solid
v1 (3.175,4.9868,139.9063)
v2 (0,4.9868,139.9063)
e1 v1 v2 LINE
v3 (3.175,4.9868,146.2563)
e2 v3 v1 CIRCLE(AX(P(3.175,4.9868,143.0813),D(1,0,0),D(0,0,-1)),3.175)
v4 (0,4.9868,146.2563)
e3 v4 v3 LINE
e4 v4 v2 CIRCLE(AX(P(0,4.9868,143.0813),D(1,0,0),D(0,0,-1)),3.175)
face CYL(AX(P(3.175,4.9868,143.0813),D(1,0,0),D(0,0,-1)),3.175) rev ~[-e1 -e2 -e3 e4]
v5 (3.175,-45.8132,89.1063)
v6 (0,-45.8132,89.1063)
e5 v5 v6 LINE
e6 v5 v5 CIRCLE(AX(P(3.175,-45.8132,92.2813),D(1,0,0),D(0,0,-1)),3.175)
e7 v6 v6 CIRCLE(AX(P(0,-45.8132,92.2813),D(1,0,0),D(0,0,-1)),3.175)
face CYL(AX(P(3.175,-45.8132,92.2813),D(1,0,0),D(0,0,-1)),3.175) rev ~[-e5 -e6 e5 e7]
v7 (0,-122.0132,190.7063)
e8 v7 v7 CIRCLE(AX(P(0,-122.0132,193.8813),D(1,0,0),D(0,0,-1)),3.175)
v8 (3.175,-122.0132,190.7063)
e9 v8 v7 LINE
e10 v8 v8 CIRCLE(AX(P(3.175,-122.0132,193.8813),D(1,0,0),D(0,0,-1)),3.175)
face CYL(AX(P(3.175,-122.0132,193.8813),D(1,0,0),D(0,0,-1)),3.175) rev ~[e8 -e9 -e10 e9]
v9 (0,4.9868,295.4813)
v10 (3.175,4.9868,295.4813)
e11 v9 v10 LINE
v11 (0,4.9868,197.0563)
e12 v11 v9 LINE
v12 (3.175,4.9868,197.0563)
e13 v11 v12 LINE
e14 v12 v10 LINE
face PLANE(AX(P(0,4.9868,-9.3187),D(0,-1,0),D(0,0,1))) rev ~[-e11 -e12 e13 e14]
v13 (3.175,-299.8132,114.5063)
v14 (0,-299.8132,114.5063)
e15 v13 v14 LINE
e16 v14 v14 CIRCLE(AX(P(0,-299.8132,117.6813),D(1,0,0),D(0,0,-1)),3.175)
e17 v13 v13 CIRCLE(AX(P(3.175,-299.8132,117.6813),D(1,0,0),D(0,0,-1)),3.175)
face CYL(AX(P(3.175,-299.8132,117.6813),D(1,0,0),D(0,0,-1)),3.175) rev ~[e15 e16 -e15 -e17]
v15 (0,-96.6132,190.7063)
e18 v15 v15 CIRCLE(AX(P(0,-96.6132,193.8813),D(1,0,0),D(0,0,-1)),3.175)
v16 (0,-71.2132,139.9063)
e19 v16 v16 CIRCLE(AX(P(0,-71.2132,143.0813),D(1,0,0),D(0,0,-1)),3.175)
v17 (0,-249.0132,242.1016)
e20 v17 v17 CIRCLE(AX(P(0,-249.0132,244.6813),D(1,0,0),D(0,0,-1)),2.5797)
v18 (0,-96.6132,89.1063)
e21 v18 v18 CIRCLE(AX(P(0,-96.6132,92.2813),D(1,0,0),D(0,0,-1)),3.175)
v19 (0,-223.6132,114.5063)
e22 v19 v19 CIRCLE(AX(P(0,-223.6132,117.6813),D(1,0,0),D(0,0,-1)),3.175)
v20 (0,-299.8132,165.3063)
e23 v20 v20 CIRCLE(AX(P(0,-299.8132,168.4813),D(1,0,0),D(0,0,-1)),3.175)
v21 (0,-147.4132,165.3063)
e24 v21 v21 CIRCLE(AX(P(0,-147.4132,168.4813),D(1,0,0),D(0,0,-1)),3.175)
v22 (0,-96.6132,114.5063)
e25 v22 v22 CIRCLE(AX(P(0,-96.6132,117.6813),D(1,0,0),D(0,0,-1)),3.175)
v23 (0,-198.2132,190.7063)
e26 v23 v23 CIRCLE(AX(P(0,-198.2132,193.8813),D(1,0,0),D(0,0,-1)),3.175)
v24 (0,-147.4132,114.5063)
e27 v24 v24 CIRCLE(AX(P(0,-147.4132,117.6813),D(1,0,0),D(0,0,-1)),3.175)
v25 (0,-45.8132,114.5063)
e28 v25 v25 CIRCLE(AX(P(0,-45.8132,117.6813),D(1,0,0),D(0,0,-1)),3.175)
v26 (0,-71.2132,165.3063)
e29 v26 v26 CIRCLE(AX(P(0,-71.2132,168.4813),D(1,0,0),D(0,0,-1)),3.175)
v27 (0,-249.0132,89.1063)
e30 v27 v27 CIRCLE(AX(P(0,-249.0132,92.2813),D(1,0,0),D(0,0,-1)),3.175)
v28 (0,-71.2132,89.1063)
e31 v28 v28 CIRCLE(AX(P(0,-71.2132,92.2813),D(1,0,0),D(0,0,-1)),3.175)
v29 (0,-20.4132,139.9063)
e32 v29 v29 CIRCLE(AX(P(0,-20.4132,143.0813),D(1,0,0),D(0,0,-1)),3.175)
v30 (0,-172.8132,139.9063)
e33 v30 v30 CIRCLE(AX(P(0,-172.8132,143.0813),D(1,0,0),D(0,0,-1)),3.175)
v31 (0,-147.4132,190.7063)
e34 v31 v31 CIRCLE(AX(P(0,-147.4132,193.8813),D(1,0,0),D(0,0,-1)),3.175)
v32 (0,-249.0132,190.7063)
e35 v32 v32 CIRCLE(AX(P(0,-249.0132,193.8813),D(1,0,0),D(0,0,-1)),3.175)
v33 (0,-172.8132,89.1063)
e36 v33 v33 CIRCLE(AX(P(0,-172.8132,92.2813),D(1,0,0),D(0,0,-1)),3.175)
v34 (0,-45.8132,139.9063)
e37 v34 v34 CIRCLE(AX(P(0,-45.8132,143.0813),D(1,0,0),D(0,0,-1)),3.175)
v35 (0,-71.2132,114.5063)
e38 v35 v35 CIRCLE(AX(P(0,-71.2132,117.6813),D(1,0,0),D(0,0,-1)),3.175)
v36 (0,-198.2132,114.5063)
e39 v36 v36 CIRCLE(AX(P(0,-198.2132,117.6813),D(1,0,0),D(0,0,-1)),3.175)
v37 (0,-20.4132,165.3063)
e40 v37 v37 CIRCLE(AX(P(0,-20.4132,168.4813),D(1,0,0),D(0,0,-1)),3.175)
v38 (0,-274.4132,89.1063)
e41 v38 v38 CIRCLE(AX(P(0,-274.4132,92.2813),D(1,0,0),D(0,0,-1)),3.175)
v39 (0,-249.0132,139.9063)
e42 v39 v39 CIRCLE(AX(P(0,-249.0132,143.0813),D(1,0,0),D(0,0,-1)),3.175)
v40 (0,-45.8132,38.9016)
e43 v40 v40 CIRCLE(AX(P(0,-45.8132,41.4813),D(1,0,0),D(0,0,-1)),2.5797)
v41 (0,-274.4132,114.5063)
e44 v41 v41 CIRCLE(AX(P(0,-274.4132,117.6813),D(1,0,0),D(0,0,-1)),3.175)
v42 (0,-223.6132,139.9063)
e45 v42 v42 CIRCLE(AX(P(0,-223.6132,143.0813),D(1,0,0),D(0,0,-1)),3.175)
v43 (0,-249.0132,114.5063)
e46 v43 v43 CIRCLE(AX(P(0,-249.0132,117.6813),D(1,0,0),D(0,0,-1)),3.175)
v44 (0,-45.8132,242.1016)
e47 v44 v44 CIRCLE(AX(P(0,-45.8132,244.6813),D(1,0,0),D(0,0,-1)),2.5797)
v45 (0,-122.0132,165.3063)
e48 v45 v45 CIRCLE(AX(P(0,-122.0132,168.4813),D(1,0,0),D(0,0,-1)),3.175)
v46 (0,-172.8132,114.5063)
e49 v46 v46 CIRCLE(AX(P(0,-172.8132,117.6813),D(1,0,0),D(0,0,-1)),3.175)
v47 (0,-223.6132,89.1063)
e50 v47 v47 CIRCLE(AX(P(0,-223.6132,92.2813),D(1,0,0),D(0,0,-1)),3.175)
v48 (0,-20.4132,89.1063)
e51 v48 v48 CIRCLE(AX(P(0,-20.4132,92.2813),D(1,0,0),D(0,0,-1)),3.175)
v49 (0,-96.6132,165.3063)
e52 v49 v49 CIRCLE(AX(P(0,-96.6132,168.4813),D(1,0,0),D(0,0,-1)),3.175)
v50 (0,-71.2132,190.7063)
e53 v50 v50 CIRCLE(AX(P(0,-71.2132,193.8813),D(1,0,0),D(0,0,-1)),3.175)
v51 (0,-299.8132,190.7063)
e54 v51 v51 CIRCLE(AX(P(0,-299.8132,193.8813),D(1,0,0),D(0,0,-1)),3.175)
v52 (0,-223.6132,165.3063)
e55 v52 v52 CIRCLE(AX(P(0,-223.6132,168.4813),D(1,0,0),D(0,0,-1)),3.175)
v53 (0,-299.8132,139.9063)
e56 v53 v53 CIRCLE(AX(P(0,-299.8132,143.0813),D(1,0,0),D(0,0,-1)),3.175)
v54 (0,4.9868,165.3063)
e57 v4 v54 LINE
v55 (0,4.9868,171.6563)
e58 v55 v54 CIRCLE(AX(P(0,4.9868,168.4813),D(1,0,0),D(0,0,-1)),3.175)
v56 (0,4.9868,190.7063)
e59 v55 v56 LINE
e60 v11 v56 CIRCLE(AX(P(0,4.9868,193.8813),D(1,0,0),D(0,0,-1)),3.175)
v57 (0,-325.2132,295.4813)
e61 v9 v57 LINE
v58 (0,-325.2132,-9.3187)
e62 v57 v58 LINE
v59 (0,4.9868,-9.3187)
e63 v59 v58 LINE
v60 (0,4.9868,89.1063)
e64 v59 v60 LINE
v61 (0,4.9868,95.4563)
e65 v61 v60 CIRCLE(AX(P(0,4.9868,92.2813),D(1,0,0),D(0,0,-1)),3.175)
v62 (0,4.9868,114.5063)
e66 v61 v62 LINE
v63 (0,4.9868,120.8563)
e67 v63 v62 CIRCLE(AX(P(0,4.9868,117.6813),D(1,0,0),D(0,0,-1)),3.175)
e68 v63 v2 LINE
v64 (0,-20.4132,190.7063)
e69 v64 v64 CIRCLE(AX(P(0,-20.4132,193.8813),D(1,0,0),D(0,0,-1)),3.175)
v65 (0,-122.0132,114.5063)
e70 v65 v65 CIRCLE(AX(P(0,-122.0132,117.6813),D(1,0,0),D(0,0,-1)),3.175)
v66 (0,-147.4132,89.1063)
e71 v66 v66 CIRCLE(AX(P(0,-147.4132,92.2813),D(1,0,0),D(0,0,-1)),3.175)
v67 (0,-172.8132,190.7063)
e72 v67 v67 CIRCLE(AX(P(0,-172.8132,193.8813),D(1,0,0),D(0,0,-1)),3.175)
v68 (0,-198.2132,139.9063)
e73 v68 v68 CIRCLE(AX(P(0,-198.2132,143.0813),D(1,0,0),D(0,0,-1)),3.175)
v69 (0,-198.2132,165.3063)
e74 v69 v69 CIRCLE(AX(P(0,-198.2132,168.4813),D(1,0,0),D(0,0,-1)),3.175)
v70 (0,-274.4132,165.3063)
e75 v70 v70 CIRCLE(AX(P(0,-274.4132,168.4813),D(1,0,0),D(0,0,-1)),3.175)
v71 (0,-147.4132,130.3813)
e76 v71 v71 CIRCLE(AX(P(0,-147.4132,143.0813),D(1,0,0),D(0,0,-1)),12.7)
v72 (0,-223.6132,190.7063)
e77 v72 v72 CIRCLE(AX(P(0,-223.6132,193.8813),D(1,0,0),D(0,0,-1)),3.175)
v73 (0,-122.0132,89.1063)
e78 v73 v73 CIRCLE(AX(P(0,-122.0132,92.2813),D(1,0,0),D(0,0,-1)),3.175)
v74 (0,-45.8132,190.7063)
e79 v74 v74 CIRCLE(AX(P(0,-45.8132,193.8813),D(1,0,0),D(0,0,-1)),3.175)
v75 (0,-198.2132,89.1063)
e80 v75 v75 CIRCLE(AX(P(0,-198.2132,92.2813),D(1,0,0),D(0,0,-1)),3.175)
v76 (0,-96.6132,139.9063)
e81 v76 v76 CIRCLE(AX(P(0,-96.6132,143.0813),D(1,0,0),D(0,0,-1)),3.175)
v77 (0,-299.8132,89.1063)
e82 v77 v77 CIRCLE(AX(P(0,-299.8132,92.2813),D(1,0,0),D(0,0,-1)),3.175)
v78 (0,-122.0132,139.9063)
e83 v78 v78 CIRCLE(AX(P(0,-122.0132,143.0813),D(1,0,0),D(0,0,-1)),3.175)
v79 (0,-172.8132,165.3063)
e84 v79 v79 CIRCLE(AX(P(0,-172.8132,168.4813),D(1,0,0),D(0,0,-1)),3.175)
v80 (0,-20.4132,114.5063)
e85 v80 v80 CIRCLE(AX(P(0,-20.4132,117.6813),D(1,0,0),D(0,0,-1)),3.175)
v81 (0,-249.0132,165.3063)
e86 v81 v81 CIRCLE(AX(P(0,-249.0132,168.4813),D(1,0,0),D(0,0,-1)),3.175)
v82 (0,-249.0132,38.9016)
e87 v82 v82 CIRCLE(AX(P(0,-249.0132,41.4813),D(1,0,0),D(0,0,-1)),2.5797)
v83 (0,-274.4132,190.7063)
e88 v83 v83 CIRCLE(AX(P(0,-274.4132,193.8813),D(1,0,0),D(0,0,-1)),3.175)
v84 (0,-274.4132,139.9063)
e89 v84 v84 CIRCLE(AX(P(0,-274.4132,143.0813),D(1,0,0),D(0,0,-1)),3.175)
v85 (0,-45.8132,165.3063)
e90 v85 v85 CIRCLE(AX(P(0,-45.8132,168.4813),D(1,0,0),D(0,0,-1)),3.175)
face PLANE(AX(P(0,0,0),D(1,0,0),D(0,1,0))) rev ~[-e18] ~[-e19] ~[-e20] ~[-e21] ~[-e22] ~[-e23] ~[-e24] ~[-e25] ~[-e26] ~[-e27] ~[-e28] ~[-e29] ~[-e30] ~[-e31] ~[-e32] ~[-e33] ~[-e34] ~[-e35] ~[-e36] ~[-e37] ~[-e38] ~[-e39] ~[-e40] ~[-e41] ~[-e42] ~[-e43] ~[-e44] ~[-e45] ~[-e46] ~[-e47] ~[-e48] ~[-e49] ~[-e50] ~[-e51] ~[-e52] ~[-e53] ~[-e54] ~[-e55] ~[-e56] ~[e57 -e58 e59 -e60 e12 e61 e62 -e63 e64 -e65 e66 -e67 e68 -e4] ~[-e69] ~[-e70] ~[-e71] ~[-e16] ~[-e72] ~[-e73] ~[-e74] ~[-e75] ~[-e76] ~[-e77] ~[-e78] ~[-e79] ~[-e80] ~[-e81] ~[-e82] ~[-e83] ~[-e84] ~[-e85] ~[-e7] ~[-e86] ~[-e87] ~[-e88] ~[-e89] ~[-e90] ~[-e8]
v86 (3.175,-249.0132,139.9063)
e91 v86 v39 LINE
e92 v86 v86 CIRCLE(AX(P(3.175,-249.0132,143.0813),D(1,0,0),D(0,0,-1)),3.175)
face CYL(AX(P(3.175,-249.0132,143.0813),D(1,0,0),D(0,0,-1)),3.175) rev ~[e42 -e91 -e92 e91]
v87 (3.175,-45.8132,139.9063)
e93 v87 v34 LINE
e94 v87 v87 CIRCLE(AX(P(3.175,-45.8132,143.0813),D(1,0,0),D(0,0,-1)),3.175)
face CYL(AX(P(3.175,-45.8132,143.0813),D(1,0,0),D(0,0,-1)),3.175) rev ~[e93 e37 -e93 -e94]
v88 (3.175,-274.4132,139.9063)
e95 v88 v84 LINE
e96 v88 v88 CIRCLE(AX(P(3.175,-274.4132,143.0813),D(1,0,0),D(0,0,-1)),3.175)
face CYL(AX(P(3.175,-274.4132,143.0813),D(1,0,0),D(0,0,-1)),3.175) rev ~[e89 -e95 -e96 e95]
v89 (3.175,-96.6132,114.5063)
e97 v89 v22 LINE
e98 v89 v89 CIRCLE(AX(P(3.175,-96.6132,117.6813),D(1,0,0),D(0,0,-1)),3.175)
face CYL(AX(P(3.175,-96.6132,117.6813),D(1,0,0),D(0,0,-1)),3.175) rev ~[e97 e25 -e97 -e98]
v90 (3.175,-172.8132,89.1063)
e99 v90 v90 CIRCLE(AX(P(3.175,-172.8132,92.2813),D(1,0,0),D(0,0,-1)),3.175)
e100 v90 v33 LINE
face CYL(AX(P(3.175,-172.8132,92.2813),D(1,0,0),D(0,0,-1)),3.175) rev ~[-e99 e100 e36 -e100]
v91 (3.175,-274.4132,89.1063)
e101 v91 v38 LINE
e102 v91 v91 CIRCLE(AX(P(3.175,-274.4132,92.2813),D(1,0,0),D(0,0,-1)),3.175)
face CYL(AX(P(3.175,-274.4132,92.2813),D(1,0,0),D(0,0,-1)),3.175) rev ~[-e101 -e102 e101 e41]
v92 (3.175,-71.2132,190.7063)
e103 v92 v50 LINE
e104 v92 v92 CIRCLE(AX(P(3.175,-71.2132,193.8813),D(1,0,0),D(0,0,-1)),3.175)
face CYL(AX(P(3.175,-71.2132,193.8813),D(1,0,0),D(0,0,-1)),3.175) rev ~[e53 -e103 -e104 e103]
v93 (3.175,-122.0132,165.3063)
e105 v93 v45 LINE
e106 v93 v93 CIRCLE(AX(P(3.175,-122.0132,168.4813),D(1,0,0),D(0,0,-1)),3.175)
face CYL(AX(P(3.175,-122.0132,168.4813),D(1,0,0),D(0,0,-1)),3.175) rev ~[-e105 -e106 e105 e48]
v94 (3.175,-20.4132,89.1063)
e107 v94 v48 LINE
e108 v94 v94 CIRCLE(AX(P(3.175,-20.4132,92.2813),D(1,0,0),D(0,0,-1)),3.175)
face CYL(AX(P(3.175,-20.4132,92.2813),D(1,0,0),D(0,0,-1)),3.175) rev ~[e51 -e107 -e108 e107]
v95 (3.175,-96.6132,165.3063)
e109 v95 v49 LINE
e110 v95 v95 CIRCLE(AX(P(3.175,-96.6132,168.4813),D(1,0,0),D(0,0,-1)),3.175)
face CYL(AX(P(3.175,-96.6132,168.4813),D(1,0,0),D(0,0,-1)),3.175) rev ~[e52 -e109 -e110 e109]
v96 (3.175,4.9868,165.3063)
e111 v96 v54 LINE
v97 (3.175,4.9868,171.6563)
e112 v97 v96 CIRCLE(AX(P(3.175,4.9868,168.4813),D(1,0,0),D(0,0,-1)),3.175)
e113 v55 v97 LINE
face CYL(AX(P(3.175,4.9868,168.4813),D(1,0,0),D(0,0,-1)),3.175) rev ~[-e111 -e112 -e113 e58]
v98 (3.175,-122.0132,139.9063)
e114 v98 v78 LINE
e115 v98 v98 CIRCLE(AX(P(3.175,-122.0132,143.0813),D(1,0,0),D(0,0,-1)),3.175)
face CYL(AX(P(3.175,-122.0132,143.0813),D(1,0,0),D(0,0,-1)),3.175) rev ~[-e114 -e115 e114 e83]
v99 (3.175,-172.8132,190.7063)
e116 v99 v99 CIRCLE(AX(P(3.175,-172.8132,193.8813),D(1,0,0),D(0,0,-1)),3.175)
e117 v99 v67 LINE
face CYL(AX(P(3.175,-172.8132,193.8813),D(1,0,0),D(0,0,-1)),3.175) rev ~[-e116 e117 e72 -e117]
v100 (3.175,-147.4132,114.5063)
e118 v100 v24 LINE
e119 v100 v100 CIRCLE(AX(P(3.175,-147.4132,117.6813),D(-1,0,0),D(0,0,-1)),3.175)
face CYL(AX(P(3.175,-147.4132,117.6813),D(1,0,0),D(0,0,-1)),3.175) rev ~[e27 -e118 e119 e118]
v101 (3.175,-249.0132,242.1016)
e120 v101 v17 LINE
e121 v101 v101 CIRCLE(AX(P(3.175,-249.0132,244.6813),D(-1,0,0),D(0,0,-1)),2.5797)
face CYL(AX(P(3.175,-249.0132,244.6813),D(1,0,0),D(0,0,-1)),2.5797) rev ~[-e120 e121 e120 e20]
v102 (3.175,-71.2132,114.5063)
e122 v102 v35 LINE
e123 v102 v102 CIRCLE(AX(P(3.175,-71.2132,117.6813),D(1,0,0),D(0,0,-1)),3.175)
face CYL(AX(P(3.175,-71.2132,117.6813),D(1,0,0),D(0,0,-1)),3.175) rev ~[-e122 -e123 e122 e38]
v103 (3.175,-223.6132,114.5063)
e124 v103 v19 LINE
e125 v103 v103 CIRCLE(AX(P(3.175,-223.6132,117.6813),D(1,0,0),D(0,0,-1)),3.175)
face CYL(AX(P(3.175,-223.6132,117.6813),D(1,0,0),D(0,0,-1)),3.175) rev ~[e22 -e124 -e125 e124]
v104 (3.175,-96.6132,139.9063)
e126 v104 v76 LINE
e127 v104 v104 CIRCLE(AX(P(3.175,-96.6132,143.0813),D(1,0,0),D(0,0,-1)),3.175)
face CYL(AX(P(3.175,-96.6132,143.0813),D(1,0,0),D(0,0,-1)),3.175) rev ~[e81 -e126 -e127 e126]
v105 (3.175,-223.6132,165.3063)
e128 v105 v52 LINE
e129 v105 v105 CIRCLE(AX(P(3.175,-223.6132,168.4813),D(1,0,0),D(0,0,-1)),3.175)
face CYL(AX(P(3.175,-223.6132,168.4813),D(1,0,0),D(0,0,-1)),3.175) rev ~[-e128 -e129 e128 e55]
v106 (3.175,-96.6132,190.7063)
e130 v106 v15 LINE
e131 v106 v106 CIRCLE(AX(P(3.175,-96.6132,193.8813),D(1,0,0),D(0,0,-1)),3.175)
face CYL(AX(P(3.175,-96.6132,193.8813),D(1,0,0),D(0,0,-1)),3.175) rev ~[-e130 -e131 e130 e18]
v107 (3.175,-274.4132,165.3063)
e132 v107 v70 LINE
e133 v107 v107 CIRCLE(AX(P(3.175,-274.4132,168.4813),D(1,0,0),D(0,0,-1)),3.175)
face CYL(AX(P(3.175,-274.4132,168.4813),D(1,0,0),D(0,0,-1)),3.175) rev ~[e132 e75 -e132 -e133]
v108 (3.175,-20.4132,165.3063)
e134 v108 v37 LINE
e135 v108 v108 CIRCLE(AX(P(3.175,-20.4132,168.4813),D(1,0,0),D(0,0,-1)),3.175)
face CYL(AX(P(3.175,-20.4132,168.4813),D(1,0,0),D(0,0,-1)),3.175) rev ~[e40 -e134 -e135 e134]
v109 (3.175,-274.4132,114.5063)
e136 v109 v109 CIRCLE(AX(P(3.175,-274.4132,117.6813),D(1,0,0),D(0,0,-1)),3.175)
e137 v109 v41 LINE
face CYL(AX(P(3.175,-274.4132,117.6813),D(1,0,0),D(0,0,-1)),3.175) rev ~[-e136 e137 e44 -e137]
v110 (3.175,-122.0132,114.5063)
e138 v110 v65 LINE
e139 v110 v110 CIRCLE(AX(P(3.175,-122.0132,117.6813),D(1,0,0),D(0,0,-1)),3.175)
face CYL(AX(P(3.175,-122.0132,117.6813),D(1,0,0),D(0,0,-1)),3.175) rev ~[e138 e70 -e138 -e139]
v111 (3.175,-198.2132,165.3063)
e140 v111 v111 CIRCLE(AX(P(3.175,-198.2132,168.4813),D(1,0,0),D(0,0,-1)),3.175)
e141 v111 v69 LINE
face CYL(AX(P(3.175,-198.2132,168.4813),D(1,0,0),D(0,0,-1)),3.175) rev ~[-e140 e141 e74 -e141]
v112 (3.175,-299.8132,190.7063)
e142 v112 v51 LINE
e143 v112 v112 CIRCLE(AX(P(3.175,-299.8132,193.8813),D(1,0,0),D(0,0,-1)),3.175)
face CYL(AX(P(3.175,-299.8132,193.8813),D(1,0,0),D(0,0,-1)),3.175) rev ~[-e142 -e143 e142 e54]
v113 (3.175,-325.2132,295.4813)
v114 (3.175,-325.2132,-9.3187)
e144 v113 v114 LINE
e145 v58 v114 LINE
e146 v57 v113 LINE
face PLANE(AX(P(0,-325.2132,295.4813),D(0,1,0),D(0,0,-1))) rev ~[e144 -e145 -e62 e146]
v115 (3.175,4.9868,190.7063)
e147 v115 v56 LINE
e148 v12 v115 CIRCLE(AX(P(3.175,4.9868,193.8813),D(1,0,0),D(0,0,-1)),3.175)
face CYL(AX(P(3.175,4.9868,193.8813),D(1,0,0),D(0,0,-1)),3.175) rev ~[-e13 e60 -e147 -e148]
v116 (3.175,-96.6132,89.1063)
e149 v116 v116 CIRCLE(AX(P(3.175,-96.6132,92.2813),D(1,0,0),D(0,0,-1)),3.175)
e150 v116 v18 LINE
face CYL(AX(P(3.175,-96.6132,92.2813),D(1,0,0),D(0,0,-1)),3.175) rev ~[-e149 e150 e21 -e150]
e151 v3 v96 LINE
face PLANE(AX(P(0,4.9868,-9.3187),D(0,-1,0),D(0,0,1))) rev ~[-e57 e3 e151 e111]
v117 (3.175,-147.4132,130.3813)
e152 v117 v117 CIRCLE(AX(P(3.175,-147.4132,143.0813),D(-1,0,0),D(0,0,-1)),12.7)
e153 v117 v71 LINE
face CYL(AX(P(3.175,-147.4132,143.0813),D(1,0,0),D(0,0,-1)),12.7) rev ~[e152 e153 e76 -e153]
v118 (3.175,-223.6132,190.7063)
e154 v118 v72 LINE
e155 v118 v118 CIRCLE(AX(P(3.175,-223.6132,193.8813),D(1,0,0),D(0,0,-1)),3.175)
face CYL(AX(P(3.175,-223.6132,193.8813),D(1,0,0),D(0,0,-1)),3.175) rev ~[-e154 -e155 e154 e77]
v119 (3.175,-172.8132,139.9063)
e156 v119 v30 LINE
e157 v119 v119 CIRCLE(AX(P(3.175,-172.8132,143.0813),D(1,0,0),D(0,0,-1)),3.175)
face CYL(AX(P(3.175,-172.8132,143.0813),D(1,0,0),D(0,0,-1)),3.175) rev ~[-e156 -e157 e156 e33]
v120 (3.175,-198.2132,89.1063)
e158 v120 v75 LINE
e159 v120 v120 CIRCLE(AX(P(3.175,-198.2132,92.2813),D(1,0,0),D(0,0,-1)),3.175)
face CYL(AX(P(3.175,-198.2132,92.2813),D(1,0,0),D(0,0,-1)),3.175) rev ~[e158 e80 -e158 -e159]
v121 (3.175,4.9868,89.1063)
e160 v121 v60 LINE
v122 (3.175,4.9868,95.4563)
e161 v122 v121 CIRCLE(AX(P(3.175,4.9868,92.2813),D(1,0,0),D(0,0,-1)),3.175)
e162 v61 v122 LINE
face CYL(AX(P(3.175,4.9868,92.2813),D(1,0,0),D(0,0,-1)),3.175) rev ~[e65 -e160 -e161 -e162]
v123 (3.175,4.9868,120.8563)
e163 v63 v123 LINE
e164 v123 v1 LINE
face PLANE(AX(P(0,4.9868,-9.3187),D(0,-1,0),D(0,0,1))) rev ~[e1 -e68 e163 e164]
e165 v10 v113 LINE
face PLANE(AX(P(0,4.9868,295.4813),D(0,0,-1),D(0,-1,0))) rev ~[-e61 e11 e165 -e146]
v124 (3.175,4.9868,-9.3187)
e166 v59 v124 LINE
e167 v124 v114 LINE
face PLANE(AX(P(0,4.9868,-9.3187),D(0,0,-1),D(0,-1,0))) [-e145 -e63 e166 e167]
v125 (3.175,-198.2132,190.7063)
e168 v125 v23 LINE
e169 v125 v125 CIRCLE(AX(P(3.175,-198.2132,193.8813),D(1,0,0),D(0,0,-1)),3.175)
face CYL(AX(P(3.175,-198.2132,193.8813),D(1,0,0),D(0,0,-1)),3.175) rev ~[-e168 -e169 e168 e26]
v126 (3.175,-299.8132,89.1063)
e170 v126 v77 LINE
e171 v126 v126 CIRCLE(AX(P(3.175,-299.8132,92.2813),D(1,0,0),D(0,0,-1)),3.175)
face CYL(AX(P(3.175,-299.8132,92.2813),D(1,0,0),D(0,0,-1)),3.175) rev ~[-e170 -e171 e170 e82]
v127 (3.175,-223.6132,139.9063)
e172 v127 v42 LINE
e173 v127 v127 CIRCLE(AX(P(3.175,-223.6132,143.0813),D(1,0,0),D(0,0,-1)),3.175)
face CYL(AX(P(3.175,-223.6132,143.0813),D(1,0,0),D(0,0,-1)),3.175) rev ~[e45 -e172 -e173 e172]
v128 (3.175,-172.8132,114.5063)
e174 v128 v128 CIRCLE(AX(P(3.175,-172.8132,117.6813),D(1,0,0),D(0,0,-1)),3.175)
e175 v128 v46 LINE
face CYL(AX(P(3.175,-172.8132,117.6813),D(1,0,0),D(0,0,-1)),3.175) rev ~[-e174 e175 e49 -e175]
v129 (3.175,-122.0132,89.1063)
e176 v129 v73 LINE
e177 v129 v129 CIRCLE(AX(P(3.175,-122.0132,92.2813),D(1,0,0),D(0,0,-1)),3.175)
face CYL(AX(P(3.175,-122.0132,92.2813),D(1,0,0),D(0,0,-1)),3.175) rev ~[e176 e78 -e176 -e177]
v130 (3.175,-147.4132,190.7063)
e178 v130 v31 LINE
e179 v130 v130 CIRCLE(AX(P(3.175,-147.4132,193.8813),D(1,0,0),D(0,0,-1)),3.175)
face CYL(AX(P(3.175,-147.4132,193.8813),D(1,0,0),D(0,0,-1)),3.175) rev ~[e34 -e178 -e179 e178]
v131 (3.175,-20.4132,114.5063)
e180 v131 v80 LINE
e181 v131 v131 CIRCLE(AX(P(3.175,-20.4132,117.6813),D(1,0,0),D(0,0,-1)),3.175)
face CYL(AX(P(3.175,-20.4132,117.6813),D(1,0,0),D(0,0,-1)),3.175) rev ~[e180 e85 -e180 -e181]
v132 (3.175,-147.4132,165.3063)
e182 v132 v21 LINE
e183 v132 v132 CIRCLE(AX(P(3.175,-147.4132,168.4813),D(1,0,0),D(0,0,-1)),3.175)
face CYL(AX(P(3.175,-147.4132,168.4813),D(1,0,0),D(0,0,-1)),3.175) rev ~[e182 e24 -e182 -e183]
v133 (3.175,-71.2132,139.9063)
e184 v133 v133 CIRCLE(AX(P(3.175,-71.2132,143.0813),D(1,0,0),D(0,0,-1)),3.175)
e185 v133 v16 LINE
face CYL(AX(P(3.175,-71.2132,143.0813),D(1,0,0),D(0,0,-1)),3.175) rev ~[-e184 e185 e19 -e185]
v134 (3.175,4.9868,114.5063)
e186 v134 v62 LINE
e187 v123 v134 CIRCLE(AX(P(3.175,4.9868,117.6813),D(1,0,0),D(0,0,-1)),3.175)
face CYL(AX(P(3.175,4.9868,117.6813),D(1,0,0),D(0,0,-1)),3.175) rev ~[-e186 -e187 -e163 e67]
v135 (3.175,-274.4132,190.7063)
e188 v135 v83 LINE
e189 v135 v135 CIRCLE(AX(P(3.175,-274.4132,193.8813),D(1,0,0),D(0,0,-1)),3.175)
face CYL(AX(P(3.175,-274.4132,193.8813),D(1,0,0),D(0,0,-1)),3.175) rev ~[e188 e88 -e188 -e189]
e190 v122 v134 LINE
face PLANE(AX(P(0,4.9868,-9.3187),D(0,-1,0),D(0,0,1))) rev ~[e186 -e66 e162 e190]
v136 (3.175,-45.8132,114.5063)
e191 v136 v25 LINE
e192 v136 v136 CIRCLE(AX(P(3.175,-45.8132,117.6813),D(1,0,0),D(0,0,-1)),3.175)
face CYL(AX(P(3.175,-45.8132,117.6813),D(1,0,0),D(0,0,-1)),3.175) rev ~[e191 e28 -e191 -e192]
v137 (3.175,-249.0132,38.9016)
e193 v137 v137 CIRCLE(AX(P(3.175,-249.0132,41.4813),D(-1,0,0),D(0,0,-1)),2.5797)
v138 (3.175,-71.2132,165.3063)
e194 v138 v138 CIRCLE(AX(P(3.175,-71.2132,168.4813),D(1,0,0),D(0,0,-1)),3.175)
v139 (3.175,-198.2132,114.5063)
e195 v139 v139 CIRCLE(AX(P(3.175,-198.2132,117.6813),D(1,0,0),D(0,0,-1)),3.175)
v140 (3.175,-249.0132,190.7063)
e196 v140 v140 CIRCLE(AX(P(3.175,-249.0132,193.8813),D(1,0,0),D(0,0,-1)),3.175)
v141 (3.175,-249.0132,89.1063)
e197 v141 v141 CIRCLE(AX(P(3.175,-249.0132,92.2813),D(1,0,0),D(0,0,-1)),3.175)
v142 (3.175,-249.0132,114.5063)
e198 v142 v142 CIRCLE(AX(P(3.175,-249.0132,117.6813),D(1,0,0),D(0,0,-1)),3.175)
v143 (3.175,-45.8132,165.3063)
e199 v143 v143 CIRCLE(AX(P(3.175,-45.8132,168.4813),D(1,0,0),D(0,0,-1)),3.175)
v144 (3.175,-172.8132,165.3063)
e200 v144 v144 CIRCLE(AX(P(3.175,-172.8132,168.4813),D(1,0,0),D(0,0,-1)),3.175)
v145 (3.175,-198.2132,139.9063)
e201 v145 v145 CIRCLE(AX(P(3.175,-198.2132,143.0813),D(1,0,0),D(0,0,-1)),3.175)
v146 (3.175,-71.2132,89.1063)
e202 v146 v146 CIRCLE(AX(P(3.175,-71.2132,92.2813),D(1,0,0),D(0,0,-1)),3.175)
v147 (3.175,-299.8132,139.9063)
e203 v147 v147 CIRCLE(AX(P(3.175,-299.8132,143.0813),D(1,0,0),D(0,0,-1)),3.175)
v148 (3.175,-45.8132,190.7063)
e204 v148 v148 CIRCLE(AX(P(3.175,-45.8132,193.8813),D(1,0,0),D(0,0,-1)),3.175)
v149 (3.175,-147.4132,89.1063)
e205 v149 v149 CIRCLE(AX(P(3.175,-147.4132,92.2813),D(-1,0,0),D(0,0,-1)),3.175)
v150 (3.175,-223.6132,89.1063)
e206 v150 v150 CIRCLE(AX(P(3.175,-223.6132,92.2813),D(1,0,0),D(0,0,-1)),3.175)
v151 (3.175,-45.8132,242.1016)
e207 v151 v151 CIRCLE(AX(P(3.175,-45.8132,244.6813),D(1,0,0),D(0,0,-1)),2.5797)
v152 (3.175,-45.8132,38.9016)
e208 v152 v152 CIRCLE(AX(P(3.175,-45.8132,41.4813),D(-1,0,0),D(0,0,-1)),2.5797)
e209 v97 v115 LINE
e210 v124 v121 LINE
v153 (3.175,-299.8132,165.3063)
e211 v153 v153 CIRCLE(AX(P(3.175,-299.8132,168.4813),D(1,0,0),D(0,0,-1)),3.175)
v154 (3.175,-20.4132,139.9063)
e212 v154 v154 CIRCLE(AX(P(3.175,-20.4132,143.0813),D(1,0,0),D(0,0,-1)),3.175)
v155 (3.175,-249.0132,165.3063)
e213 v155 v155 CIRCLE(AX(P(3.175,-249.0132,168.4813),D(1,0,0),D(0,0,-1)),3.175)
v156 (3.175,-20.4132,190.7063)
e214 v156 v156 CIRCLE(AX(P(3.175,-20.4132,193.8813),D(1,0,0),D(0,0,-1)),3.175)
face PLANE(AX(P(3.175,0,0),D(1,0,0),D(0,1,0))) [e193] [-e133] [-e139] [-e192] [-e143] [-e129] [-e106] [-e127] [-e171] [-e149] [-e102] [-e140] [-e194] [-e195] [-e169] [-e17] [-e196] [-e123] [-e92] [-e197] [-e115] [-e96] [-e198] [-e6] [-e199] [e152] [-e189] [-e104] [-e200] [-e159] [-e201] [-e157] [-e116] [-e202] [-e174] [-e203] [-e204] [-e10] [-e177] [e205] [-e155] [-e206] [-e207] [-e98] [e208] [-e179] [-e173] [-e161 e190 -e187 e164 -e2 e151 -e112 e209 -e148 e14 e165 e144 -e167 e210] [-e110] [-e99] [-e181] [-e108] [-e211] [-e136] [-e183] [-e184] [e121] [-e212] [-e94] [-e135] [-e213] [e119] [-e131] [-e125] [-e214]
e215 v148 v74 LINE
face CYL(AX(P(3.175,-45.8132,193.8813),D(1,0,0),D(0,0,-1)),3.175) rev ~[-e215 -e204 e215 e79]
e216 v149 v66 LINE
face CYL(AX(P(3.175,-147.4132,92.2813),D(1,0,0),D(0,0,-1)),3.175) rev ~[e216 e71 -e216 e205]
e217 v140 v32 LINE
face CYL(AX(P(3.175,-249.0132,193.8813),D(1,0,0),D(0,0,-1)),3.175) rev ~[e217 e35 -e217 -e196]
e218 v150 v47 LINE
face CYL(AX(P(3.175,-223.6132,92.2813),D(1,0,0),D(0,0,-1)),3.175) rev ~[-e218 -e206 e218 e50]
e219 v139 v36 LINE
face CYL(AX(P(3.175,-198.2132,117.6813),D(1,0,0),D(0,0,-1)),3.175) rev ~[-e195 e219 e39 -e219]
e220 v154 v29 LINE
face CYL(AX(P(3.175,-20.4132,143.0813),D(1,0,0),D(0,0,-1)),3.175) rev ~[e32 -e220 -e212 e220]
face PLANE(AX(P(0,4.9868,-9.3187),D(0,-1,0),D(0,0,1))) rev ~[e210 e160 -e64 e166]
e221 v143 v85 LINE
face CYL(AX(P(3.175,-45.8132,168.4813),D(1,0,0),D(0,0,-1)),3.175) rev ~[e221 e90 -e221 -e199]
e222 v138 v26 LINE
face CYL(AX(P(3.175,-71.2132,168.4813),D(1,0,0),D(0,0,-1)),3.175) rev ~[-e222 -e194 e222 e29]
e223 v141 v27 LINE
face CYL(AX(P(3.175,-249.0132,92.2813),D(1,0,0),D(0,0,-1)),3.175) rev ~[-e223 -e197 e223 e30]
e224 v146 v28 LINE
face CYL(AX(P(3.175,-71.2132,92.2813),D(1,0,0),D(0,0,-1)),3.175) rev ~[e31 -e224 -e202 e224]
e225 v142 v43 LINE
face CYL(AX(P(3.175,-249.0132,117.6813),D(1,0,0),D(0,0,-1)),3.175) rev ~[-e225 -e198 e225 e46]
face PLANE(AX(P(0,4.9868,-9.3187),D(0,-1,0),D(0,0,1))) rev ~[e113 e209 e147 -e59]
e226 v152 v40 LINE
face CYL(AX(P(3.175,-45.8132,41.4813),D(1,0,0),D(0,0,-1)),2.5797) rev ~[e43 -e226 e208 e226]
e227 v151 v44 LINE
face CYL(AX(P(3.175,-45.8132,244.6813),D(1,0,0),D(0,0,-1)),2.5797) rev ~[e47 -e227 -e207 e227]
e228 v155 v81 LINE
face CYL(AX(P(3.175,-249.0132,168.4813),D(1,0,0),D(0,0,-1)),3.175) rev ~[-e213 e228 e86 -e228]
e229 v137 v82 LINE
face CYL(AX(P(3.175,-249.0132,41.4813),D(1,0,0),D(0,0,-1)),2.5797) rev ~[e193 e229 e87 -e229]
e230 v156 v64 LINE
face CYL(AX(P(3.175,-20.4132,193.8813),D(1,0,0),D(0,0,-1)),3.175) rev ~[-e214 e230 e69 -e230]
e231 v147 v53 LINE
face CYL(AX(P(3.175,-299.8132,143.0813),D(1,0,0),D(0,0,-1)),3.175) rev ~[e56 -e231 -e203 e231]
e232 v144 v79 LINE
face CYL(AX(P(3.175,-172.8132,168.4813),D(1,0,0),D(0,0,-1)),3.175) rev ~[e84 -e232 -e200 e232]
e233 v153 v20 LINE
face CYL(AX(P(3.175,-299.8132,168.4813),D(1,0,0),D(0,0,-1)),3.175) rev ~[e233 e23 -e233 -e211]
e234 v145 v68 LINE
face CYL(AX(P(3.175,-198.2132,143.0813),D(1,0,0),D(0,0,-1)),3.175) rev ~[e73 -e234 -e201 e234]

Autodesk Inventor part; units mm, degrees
ref_plane "YZ Plane" through (0, 0, 0) normal (1, 0, 0) x (0, 1, 0)
ref_plane "XZ Plane" through (0, 0, 0) normal (0, 1, 0) x (-1, 0, 0)
ref_plane "XY Plane" through (0, 0, 0) normal (0, 0, 1) x (1, 0, 0)
sketch "Sketch1" plane through (0, 0, 0) normal (1, 0, 0) x (0, 1, 0)
  line L0 (4.9868, -9.3187) -> (4.9868, 295.4813)
  line L1 (4.9868, 295.4813) -> (-325.2132, 295.4813)
  line L2 (4.9868, -9.3187) -> (-325.2132, -9.3187)
  line L3 (-325.2132, 295.4813) -> (-325.2132, -9.3187)
  point P0 (0, 0)
  dimension "d73" = 330.2
  dimension "d74" = 330.2
  dimension "d75" = 304.8
extrude "Extrusion1" add sketch "Sketch1" along normal blind 3.175
sketch "Sketch2" plane through (3.175, 0, 0) normal (1, 0, 0) x (0, 0, -1)
  line L0 (-143.0813, 4.9868) -> (-143.0813, -147.4132)
  circle A0 centre (-143.0813, -147.4132) radius 12.7
  point P0 (0, 0)
  point P1 (9.3187, 4.9868)
  dimension "d4" = 152.4
  dimension "d5" = 25.4
extrude "Extrusion2" cut sketch "Sketch2" against normal blind 50.8
sketch "Sketch3" plane through (3.175, 0, 0) normal (1, 0, 0) x (0, 0, -1)
  circle A0 centre (-143.0813, -147.4132) radius 12.7 projected
  circle A1 centre (-143.0813, -122.0132) radius 3.175
  circle A2 centre (-143.0813, -96.6132) radius 3.175
  circle A3 centre (-143.0813, -71.2132) radius 3.175
  circle A4 centre (-143.0813, -45.8132) radius 3.175
  circle A5 centre (-143.0813, -20.4132) radius 3.175
  circle A6 centre (-143.0813, 4.9868) radius 3.175
  line L0 (9.3187, -299.8132) -> (9.3187, 4.9868) projected
  circle A7 centre (-143.0813, -172.8132) radius 3.175
  circle A8 centre (-143.0813, -198.2132) radius 3.175
  circle A9 centre (-143.0813, -249.0132) radius 3.175
  circle A10 centre (-143.0813, -223.6132) radius 3.175
  circle A11 centre (-143.0813, -299.8132) radius 3.175
  circle A12 centre (-143.0813, -274.4132) radius 3.175
  circle A13 centre (-168.4813, -122.0132) radius 3.175
  circle A14 centre (-168.4813, -96.6132) radius 3.175
  circle A15 centre (-168.4813, -45.8132) radius 3.175
  circle A16 centre (-168.4813, -71.2132) radius 3.175
  circle A17 centre (-168.4813, 4.9868) radius 3.175
  circle A18 centre (-168.4813, -20.4132) radius 3.175
  circle A19 centre (-168.4813, -299.8132) radius 3.175
  circle A20 centre (-168.4813, -249.0132) radius 3.175
  circle A21 centre (-168.4813, -274.4132) radius 3.175
  circle A22 centre (-168.4813, -223.6132) radius 3.175
  circle A23 centre (-168.4813, -198.2132) radius 3.175
  circle A24 centre (-168.4813, -172.8132) radius 3.175
  circle A25 centre (-117.6813, -122.0132) radius 3.175
  circle A26 centre (-117.6813, -96.6132) radius 3.175
  circle A27 centre (-117.6813, -45.8132) radius 3.175
  circle A28 centre (-117.6813, -71.2132) radius 3.175
  circle A29 centre (-117.6813, 4.9868) radius 3.175
  circle A30 centre (-117.6813, -20.4132) radius 3.175
  circle A31 centre (-117.6813, -299.8132) radius 3.175
  circle A32 centre (-117.6813, -249.0132) radius 3.175
  circle A33 centre (-117.6813, -274.4132) radius 3.175
  circle A34 centre (-117.6813, -223.6132) radius 3.175
  circle A35 centre (-117.6813, -198.2132) radius 3.175
  circle A36 centre (-117.6813, -172.8132) radius 3.175
  circle A37 centre (-193.8813, -122.0132) radius 3.175
  circle A38 centre (-193.8813, -96.6132) radius 3.175
  circle A39 centre (-193.8813, -45.8132) radius 3.175
  circle A40 centre (-193.8813, -71.2132) radius 3.175
  circle A41 centre (-193.8813, 4.9868) radius 3.175
  circle A42 centre (-193.8813, -20.4132) radius 3.175
  circle A43 centre (-193.8813, -299.8132) radius 3.175
  circle A44 centre (-193.8813, -249.0132) radius 3.175
  circle A45 centre (-193.8813, -274.4132) radius 3.175
  circle A46 centre (-193.8813, -223.6132) radius 3.175
  circle A47 centre (-193.8813, -198.2132) radius 3.175
  circle A48 centre (-193.8813, -172.8132) radius 3.175
  circle A49 centre (-92.2813, -122.0132) radius 3.175
  circle A50 centre (-92.2813, -96.6132) radius 3.175
  circle A51 centre (-92.2813, -45.8132) radius 3.175
  circle A52 centre (-92.2813, -71.2132) radius 3.175
  circle A53 centre (-92.2813, 4.9868) radius 3.175
  circle A54 centre (-92.2813, -20.4132) radius 3.175
  circle A55 centre (-92.2813, -299.8132) radius 3.175
  circle A56 centre (-92.2813, -249.0132) radius 3.175
  circle A57 centre (-92.2813, -274.4132) radius 3.175
  circle A58 centre (-92.2813, -223.6132) radius 3.175
  circle A59 centre (-92.2813, -198.2132) radius 3.175
  circle A60 centre (-92.2813, -172.8132) radius 3.175
  point P0 (0, 0)
  dimension "d9" = 6.35
  dimension "d11" = 6.35
  dimension "d12" = 6.35
  dimension "d13" = 6.35
  dimension "d14" = 6.35
  dimension "d15" = 6.35
  dimension "d18" = 6.35
  dimension "d19" = 6.35
  dimension "d20" = 6.35
  dimension "d21" = 6.35
  dimension "d22" = 6.35
  dimension "d23" = 6.35
  dimension "d24" = 6.35
  dimension "d25" = 6.35
  dimension "d26" = 6.35
  dimension "d27" = 6.35
  dimension "d28" = 6.35
  dimension "d29" = 6.35
  dimension "d33" = 6.35
  dimension "d35" = 6.35
  dimension "d36" = 6.35
  dimension "d37" = 6.35
  dimension "d38" = 6.35
  dimension "d39" = 6.35
  dimension "d41" = 6.35
  dimension "d43" = 6.35
  dimension "d44" = 6.35
  dimension "d45" = 6.35
  dimension "d46" = 6.35
  dimension "d47" = 6.35
extrude "Extrusion3" cut sketch "Sketch3" against normal blind 50.8
sketch "Sketch4" plane through (3.175, 0, 0) normal (1, 0, 0) x (0, 0, -1)
  circle A0 centre (-143.0813, -147.4132) radius 12.7 projected
  line L0 (-143.0813, -147.4132) -> (-117.6813, -147.4132)
  line L1 (-117.6813, -147.4132) -> (-92.2813, -147.4132)
  circle A1 centre (-92.2813, -147.4132) radius 3.175
  circle A2 centre (-117.6813, -147.4132) radius 3.175
  circle A3 centre (-193.8813, -147.4132) radius 3.175
  circle A4 centre (-168.4813, -147.4132) radius 3.175
  point P0 (0, 0)
  dimension "d54" = 25.4
  dimension "d55" = 25.4
  dimension "d56" = 6.35
  dimension "d57" = 6.35
extrude "Extrusion4" cut sketch "Sketch4" against normal blind 50.8 contours A1 | A2 L1 L0 | L0 L1 A2 | A3 | A4
sketch "Sketch7" plane through (3.175, 0, 0) normal (1, 0, 0) x (0, 0, -1)
  line L0 (-295.4813, 4.9868) -> (-295.4813, -325.2132) projected
  line L1 (-295.4813, -325.2132) -> (-244.6813, -325.2132)
  line L2 (-244.6813, -325.2132) -> (-244.6813, -249.0132)
  line L3 (-244.6813, -249.0132) -> (-295.4813, -249.0132)
  line L4 (-295.4813, -249.0132) -> (-295.4813, -325.2132)
  circle A0 centre (-244.6813, -249.0132) radius 2.5797
  line L5 (-244.6813, -249.0132) -> (-41.4813, -249.0132)
  line L6 (-41.4813, -249.0132) -> (-41.4813, -45.8132)
  circle A1 centre (-41.4813, -249.0132) radius 2.5797
  circle A2 centre (-244.6813, -45.8132) radius 2.5797
  circle A3 centre (-41.4813, -45.8132) radius 2.5797
  point P0 (0, 0)
  dimension "d83" = 50.8
  dimension "d84" = 76.2
  dimension "d85" = 5.1594
  dimension "d86" = 203.2
  dimension "d87" = 203.2
  dimension "d88" = 5.1594
  dimension "d89" = 5.1594
  dimension "d90" = 5.1594
extrude "Extrusion7" cut sketch "Sketch7" against normal blind 25.4 contours A3 | A1 L6 L5 | L5 L6 A1 | A0 L5 L3 | L3 L2 A0 | L5 A0 L2 | A2
properties part number "Drill Jig Base"
